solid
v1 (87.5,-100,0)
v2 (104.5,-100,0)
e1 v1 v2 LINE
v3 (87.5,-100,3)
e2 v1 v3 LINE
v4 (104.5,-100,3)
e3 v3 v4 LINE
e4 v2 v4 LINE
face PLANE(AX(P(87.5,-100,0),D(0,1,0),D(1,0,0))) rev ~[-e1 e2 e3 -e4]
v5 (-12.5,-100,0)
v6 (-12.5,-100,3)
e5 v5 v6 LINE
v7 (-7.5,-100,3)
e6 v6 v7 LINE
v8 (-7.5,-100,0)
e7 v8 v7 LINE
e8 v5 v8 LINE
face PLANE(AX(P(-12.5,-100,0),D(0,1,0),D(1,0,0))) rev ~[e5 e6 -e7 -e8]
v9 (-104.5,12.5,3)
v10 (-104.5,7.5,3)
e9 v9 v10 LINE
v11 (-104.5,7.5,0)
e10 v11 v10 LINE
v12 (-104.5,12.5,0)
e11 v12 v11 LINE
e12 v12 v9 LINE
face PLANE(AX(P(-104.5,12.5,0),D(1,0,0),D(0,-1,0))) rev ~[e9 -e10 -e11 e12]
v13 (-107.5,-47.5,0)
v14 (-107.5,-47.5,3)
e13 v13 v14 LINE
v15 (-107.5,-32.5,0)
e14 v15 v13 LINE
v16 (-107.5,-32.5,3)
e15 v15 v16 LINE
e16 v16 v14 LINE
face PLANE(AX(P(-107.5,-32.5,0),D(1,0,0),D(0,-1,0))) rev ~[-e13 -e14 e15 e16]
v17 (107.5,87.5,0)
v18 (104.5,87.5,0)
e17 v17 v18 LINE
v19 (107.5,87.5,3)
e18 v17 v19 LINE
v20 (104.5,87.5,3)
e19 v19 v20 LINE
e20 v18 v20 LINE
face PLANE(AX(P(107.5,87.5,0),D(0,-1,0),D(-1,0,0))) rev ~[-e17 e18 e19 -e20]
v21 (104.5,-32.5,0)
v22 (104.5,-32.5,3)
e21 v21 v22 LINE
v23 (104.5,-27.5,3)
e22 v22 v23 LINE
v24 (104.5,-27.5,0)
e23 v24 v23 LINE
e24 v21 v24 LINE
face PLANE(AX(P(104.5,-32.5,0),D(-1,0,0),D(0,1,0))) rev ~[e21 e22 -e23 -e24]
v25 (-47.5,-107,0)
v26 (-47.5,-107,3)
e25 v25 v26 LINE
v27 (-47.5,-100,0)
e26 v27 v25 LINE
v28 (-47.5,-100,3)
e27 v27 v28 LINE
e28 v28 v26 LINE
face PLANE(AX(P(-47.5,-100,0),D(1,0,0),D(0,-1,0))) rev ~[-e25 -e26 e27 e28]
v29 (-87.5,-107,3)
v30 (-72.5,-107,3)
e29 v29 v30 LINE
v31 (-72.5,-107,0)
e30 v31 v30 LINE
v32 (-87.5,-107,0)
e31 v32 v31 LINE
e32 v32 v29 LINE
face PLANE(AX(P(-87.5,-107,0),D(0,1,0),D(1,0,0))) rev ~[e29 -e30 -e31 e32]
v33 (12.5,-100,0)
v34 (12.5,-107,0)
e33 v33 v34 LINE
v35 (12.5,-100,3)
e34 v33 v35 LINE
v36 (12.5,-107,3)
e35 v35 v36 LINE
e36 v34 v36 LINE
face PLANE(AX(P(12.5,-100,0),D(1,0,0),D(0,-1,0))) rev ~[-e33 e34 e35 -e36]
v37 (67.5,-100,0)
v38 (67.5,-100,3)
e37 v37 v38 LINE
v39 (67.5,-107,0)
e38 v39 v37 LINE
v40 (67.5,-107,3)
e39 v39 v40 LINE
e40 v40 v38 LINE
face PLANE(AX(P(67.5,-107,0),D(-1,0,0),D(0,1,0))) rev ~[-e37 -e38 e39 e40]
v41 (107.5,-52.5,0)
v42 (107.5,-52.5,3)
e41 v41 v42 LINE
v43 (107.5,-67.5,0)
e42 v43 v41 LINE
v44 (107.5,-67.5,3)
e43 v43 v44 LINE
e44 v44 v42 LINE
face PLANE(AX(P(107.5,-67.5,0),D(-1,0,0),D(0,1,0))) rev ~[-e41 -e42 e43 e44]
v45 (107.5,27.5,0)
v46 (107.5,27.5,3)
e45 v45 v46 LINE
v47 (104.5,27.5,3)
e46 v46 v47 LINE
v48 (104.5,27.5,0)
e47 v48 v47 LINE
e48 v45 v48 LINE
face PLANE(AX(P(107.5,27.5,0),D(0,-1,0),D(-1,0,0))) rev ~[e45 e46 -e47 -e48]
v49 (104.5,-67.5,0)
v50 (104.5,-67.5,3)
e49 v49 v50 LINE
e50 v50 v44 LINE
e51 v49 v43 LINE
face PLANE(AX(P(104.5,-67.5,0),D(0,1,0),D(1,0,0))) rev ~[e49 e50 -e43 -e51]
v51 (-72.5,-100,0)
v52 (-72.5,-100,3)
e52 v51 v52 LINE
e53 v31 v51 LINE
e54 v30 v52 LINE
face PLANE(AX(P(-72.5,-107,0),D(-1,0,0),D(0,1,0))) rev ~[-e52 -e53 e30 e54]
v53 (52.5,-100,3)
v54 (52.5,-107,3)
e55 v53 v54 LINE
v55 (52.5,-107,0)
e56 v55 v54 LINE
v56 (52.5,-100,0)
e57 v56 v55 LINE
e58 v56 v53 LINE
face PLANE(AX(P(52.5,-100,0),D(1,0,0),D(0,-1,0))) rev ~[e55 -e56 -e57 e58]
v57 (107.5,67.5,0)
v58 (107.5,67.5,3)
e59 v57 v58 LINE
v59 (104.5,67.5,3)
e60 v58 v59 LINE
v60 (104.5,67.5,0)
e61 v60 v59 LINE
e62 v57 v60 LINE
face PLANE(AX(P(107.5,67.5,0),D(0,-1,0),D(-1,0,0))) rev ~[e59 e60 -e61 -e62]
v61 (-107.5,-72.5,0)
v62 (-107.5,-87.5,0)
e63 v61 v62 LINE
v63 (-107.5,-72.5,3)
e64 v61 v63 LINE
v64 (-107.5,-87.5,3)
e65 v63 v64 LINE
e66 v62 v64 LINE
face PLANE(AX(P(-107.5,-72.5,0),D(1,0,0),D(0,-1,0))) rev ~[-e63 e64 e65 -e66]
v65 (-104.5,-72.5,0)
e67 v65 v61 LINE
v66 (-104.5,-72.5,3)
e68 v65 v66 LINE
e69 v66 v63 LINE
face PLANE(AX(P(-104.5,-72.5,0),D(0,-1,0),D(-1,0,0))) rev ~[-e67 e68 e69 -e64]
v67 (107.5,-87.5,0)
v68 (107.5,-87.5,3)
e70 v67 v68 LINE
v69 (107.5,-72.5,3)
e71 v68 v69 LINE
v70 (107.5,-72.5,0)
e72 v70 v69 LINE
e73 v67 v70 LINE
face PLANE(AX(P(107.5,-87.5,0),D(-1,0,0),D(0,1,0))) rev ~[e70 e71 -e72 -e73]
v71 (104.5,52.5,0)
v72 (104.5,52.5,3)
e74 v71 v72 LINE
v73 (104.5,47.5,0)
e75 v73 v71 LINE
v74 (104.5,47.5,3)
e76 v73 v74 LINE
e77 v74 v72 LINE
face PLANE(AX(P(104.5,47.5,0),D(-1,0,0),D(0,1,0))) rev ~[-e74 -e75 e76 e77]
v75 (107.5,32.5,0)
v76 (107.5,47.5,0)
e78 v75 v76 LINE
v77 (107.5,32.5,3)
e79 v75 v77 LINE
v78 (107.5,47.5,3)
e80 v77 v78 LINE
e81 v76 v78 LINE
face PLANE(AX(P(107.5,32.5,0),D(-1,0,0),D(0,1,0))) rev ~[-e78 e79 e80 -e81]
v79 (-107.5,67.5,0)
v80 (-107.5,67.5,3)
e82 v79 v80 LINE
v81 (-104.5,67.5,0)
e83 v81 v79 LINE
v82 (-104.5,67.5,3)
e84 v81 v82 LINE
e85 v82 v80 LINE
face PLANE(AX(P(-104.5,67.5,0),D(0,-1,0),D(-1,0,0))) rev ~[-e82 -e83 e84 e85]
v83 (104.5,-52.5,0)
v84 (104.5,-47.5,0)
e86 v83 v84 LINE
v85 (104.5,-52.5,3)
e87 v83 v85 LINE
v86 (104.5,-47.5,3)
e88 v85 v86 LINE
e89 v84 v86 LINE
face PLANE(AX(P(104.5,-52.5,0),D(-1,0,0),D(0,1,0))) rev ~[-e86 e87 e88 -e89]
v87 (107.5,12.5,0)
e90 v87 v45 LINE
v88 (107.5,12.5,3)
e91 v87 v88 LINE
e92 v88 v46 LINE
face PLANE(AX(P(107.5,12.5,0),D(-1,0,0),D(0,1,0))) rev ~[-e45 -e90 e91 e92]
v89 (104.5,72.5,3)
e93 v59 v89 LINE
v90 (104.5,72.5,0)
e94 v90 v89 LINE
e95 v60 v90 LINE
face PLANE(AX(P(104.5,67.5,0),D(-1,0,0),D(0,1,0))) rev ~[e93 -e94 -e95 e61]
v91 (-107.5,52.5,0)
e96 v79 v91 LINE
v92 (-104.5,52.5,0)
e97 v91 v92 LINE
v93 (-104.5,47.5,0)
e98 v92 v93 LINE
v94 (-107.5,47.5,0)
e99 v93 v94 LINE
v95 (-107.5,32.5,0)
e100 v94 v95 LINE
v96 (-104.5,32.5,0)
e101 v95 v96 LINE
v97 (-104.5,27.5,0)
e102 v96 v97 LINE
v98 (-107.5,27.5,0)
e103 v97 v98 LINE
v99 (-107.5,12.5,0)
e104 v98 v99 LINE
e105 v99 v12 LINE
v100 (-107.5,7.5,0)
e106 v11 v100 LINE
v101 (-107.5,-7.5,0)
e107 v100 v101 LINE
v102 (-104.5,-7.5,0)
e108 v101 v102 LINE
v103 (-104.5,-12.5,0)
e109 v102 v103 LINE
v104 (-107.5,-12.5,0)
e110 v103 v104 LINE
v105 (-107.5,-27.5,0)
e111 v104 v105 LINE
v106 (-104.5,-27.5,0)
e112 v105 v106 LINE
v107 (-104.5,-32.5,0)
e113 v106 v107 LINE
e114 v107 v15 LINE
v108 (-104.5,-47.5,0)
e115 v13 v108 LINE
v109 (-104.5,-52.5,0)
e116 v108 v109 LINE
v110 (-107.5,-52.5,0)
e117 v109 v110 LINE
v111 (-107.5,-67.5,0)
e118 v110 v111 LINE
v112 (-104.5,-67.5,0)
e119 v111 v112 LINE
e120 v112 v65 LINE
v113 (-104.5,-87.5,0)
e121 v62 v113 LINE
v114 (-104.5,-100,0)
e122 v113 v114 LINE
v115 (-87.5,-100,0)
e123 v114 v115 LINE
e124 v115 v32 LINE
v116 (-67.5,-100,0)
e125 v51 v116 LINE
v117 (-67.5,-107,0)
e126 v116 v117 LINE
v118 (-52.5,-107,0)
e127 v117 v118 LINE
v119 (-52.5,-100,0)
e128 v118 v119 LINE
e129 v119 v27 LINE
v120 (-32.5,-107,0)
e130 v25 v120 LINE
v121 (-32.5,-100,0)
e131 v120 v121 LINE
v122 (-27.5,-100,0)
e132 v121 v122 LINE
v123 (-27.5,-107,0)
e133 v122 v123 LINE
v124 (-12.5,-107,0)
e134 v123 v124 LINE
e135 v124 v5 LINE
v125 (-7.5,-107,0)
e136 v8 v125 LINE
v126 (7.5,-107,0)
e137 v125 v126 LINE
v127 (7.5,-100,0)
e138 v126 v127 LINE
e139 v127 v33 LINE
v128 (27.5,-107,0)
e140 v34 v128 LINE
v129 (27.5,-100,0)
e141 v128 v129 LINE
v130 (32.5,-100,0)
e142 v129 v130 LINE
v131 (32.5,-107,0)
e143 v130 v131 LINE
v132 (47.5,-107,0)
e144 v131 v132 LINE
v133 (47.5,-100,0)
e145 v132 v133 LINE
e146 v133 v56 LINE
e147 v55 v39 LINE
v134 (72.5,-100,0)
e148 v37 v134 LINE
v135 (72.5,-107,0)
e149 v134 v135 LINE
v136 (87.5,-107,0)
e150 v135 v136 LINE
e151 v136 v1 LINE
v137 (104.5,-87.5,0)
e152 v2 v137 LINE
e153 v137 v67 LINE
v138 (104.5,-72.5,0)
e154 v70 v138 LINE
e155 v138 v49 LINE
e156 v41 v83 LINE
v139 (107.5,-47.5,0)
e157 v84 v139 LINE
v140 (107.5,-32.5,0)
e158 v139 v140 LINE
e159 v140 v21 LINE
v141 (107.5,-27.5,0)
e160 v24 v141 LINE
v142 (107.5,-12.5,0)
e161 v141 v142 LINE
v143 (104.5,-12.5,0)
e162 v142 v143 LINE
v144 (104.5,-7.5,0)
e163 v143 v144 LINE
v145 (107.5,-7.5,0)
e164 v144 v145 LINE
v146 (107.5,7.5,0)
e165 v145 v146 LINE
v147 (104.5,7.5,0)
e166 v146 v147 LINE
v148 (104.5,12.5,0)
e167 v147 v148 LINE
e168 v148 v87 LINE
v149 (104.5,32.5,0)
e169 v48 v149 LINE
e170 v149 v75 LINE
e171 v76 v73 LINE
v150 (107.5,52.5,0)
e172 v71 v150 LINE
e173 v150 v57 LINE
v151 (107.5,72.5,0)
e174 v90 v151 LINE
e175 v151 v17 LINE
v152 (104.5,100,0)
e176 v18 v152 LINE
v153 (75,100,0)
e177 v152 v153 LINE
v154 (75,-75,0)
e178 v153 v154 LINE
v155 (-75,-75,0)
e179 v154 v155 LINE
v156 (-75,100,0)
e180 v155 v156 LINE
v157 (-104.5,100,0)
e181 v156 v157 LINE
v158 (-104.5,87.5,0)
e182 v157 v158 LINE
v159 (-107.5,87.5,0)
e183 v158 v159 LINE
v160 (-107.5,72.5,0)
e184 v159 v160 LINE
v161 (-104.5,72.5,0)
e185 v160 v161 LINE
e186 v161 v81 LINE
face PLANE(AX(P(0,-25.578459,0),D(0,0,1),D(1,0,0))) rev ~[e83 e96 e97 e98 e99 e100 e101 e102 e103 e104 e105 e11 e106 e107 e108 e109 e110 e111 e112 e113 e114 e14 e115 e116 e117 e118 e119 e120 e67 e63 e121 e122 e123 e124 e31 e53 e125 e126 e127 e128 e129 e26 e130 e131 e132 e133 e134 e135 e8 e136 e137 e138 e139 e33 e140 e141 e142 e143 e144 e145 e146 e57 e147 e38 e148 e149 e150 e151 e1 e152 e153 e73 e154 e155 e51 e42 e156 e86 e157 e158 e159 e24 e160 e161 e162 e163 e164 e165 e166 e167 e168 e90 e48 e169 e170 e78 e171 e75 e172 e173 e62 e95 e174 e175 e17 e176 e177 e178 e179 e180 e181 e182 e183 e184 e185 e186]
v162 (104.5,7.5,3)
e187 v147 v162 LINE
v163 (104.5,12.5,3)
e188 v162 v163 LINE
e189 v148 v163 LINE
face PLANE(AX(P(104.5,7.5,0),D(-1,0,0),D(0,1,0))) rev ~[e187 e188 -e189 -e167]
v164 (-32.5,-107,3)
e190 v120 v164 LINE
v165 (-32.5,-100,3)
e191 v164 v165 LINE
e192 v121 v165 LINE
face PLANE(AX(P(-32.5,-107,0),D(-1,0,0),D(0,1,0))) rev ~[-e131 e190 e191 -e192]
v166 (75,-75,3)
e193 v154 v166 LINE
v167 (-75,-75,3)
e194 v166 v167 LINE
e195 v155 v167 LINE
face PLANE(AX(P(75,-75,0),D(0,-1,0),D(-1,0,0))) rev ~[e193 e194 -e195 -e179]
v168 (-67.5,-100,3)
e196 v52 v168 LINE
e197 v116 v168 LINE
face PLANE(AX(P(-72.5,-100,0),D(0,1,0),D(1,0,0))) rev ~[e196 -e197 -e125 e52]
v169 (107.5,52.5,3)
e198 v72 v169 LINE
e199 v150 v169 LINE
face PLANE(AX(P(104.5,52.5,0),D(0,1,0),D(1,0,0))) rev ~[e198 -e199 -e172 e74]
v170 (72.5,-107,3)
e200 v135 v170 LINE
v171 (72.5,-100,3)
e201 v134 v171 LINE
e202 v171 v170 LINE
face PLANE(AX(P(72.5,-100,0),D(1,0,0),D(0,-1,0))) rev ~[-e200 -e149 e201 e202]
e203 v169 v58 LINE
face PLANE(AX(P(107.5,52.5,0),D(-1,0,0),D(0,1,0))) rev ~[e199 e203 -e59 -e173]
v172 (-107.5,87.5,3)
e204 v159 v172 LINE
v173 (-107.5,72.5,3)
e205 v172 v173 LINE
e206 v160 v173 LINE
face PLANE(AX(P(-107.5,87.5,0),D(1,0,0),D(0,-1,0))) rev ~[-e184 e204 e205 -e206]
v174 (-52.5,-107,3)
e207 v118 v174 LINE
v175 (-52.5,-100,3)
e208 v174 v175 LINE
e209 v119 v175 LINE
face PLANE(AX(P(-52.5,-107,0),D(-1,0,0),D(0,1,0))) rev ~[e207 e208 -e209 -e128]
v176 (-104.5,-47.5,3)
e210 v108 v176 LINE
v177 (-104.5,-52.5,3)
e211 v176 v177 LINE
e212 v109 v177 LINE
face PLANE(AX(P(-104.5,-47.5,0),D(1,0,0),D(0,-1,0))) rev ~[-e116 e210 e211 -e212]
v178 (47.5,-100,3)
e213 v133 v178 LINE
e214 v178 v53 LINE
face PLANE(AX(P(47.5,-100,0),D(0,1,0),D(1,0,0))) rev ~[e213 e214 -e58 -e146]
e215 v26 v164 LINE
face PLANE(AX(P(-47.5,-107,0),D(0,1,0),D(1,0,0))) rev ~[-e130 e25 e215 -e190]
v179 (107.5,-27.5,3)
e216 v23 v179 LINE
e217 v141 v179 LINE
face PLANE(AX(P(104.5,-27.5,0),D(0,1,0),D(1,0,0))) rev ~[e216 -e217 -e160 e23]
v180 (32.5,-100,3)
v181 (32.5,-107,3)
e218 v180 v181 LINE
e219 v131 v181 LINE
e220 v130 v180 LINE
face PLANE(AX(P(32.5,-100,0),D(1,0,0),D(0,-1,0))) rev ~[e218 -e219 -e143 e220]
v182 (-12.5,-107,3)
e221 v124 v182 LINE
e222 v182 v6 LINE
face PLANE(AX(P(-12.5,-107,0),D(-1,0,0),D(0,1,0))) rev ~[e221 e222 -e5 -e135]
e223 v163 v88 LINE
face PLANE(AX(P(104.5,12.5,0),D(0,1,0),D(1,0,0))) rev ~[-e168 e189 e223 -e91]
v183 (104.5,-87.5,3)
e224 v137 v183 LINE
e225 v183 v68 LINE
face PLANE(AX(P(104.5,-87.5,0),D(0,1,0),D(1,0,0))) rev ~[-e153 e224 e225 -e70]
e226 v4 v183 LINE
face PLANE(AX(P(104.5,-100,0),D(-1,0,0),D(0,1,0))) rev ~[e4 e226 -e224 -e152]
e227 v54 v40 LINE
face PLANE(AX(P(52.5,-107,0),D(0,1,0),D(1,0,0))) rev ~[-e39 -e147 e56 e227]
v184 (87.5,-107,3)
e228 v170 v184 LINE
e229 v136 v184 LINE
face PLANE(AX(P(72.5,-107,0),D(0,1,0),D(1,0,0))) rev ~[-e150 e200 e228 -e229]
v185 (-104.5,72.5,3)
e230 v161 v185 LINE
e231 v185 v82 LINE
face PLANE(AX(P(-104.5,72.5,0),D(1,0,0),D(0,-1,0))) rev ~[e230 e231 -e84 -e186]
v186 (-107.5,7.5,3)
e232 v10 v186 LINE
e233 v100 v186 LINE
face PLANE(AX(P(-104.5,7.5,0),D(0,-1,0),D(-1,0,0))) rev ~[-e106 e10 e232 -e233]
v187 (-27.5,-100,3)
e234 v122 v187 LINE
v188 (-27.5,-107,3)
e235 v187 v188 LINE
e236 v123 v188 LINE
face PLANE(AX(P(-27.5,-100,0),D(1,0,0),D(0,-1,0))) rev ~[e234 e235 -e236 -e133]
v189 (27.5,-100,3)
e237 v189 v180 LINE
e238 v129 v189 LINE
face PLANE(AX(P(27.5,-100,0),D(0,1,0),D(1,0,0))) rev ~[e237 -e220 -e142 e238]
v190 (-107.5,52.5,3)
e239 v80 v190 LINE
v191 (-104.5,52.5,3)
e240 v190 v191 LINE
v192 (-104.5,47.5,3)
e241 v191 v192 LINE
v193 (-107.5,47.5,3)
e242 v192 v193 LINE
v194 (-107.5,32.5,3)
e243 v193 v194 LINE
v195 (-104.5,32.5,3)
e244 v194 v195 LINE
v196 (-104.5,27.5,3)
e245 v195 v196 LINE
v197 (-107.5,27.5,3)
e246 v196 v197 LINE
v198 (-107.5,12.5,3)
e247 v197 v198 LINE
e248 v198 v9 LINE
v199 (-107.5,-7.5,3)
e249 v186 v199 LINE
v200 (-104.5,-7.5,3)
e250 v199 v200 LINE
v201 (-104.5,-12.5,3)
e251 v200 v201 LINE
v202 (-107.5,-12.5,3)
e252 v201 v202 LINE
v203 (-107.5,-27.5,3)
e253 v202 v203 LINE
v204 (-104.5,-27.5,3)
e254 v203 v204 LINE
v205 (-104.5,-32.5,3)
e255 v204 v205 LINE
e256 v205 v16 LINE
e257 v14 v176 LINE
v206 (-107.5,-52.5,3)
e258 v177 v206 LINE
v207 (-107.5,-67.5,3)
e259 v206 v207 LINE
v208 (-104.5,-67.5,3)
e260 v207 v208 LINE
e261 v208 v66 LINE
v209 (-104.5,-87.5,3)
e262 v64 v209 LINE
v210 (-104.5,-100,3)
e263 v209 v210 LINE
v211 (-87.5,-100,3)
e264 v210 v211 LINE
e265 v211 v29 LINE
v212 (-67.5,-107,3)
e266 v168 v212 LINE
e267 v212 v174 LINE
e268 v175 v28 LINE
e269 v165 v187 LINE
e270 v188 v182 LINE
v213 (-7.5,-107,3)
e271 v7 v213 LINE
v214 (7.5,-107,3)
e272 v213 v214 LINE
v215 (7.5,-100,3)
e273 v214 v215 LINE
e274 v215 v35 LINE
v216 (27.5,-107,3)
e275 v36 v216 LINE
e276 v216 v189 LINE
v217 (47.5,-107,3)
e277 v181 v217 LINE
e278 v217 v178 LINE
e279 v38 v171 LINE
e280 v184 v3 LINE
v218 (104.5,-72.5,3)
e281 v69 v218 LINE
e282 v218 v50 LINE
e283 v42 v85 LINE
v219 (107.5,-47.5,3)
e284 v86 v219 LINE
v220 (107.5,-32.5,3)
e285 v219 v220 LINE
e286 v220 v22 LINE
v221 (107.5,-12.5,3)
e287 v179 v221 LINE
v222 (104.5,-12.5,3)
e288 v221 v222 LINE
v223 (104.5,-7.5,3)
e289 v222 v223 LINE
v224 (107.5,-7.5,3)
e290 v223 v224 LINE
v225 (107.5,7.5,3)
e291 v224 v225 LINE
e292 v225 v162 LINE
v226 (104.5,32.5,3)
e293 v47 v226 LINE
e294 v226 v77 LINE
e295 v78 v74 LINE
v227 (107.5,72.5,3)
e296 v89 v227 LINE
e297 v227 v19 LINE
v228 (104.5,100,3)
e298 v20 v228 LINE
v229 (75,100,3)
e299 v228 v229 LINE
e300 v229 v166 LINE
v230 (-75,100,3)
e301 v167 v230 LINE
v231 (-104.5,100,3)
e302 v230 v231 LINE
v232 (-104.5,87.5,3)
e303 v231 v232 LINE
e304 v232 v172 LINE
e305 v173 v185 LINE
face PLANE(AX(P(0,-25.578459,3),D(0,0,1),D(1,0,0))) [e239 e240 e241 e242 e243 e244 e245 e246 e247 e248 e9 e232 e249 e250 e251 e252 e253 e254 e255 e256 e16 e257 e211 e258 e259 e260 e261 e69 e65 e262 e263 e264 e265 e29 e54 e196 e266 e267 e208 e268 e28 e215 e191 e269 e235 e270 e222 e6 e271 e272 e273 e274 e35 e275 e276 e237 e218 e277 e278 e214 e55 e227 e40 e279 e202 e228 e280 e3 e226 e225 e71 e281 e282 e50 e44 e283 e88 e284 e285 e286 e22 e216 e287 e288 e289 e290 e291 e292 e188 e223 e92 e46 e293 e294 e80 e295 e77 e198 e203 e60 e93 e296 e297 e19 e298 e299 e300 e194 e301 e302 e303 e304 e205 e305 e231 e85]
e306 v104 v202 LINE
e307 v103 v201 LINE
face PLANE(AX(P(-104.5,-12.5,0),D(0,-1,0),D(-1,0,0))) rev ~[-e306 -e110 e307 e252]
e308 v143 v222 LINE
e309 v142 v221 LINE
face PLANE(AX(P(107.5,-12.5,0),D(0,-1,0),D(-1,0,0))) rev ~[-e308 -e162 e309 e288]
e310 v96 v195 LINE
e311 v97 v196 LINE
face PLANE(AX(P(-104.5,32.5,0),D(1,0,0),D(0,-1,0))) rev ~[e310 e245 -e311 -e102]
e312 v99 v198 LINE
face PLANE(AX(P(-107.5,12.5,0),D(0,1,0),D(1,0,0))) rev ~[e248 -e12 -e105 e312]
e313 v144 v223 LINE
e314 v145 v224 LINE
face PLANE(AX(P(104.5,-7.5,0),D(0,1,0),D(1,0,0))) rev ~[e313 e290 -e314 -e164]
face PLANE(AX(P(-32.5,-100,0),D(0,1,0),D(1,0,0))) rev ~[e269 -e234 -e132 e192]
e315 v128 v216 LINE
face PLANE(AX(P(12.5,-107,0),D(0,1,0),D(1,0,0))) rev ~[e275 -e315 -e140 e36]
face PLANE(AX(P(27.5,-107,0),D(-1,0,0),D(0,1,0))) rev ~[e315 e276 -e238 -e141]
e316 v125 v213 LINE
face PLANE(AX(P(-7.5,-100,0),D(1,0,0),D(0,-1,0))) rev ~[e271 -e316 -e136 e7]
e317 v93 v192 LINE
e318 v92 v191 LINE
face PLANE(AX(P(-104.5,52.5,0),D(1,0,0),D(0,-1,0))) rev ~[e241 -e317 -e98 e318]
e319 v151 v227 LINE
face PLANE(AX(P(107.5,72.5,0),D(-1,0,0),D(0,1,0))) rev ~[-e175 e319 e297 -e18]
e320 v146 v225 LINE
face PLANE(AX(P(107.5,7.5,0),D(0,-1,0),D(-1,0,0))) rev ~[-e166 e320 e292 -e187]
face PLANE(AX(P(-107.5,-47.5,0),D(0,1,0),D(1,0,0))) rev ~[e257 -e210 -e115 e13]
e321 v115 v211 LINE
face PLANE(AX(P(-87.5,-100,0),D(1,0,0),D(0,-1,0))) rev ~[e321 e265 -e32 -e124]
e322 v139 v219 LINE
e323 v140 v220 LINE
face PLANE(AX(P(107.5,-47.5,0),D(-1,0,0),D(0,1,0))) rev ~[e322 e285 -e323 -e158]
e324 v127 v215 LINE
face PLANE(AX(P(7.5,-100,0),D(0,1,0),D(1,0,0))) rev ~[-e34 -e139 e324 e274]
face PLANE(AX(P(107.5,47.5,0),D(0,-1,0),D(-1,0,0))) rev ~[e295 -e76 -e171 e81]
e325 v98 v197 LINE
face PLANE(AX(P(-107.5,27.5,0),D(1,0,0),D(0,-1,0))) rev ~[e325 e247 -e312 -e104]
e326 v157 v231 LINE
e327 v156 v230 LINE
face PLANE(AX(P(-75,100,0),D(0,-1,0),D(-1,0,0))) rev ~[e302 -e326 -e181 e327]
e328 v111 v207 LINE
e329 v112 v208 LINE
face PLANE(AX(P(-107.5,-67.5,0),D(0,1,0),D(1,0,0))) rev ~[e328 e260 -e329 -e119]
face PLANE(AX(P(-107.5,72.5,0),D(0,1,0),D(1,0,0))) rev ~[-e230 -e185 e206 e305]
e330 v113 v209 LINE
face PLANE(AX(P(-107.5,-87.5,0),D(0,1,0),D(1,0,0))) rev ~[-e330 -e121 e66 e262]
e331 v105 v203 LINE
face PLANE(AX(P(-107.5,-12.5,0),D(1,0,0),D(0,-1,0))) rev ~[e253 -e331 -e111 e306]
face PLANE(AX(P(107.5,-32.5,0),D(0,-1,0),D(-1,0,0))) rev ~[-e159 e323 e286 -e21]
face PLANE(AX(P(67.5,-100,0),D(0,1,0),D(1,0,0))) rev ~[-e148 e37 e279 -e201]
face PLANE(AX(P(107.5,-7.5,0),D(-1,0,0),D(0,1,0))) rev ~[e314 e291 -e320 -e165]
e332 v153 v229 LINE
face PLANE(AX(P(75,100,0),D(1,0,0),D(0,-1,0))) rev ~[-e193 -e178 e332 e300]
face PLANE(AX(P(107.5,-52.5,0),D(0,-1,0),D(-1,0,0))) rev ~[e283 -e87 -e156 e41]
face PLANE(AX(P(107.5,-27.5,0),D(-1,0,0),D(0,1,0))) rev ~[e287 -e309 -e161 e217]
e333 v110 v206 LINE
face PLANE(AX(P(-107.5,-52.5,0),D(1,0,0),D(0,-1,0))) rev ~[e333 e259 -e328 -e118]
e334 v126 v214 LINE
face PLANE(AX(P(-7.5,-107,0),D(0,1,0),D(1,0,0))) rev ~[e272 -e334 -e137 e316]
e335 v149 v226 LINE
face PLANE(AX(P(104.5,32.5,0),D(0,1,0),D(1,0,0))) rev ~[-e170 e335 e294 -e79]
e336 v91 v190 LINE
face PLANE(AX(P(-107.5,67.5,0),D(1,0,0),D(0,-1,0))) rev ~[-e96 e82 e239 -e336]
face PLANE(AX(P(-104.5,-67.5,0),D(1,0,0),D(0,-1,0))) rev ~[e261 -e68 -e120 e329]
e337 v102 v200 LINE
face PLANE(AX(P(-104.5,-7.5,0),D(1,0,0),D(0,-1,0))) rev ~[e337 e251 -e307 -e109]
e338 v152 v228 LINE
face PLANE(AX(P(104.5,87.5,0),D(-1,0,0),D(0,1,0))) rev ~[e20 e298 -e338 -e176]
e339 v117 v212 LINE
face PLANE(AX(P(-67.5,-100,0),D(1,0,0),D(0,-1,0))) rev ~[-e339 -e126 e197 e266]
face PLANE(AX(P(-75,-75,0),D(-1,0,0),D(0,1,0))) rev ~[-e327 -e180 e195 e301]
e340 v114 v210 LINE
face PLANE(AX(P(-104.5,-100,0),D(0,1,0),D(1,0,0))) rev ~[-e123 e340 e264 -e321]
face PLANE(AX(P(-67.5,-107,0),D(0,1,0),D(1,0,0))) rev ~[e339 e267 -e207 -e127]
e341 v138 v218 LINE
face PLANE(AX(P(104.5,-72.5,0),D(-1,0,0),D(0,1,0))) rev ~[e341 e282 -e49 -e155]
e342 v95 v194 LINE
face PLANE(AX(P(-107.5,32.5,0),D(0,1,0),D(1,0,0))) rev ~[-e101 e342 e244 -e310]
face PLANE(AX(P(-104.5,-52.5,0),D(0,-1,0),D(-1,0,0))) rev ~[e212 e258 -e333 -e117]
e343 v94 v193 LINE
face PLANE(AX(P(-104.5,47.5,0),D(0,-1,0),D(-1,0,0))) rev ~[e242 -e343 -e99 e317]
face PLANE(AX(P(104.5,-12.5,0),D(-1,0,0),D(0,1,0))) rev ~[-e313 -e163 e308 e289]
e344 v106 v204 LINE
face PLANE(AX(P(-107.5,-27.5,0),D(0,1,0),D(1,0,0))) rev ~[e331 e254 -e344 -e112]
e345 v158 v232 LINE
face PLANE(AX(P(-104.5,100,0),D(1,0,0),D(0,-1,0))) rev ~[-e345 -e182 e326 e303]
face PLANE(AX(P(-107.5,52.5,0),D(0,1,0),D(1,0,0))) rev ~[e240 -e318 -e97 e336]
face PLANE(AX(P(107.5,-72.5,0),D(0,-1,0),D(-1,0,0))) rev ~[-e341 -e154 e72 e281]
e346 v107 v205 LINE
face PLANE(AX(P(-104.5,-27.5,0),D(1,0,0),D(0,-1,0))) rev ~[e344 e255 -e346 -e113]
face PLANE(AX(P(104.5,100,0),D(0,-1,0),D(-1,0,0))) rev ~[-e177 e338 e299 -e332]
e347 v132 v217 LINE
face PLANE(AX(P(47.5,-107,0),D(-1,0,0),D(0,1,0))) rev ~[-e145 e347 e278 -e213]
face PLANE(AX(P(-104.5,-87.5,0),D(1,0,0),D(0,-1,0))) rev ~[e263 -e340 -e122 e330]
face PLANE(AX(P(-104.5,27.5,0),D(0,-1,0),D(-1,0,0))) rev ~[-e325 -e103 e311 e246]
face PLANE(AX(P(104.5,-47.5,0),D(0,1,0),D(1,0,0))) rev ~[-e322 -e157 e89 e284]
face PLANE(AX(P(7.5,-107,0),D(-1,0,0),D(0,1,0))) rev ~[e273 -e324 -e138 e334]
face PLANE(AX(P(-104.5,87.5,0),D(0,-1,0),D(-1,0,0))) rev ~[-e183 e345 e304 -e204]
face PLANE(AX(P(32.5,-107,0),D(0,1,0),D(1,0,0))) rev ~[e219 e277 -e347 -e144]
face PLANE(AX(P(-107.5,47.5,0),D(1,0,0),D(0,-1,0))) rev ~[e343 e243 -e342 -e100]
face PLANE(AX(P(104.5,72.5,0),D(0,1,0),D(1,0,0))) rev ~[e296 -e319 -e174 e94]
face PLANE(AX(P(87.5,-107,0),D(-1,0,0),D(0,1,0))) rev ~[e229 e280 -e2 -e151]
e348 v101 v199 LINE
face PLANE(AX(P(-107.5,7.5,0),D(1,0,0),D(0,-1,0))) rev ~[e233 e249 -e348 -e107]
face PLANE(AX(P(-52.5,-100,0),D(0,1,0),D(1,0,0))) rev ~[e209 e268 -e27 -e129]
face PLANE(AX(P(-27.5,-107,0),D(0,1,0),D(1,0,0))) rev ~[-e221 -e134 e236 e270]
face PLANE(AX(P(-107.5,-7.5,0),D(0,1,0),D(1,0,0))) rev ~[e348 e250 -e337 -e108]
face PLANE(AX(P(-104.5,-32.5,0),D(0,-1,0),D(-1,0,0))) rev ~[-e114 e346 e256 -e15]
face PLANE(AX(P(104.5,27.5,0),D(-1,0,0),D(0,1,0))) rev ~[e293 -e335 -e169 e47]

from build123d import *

# Parameters (mm, degrees)
BOSS_EXTRUDE1_DEPTH = 3


with BuildPart() as part:
    # Sketch1 → Boss-Extrude1 (new body)
    with BuildSketch(Plane.XY):
        Polygon((-75, 100), (-104.5, 100), (-104.5, 87.5), (-107.5, 87.5), (-107.5, 72.5), (-104.5, 72.5), (-104.5, 67.5), (-107.5, 67.5), (-107.5, 52.5), (-104.5, 52.5), (-104.5, 47.5), (-107.5, 47.5), (-107.5, 32.5), (-104.5, 32.5), (-104.5, 27.5), (-107.5, 27.5), (-107.5, 12.5), (-104.5, 12.5), (-104.5, 7.5), (-107.5, 7.5), (-107.5, -7.5), (-104.5, -7.5), (-104.5, -12.5), (-107.5, -12.5), (-107.5, -27.5), (-104.5, -27.5), (-104.5, -32.5), (-107.5, -32.5), (-107.5, -47.5), (-104.5, -47.5), (-104.5, -52.5), (-107.5, -52.5), (-107.5, -67.5), (-104.5, -67.5), (-104.5, -72.5), (-107.5, -72.5), (-107.5, -87.5), (-104.5, -87.5), (-104.5, -100), (-87.5, -100), (-87.5, -107), (-72.5, -107), (-72.5, -100), (-67.5, -100), (-67.5, -107), (-52.5, -107), (-52.5, -100), (-47.5, -100), (-47.5, -107), (-32.5, -107), (-32.5, -100), (-27.5, -100), (-27.5, -107), (-12.5, -107), (-12.5, -100), (-7.5, -100), (-7.5, -107), (7.5, -107), (7.5, -100), (12.5, -100), (12.5, -107), (27.5, -107), (27.5, -100), (32.5, -100), (32.5, -107), (47.5, -107), (47.5, -100), (52.5, -100), (52.5, -107), (67.5, -107), (67.5, -100), (72.5, -100), (72.5, -107), (87.5, -107), (87.5, -100), (104.5, -100), (104.5, -87.5), (107.5, -87.5), (107.5, -72.5), (104.5, -72.5), (104.5, -67.5), (107.5, -67.5), (107.5, -52.5), (104.5, -52.5), (104.5, -47.5), (107.5, -47.5), (107.5, -32.5), (104.5, -32.5), (104.5, -27.5), (107.5, -27.5), (107.5, -12.5), (104.5, -12.5), (104.5, -7.5), (107.5, -7.5), (107.5, 7.5), (104.5, 7.5), (104.5, 12.5), (107.5, 12.5), (107.5, 27.5), (104.5, 27.5), (104.5, 32.5), (107.5, 32.5), (107.5, 47.5), (104.5, 47.5), (104.5, 52.5), (107.5, 52.5), (107.5, 67.5), (104.5, 67.5), (104.5, 72.5), (107.5, 72.5), (107.5, 87.5), (104.5, 87.5), (104.5, 100), (75, 100), (75, -75), (-75, -75), align=None)
    extrude(amount=BOSS_EXTRUDE1_DEPTH)


solid = part.part
